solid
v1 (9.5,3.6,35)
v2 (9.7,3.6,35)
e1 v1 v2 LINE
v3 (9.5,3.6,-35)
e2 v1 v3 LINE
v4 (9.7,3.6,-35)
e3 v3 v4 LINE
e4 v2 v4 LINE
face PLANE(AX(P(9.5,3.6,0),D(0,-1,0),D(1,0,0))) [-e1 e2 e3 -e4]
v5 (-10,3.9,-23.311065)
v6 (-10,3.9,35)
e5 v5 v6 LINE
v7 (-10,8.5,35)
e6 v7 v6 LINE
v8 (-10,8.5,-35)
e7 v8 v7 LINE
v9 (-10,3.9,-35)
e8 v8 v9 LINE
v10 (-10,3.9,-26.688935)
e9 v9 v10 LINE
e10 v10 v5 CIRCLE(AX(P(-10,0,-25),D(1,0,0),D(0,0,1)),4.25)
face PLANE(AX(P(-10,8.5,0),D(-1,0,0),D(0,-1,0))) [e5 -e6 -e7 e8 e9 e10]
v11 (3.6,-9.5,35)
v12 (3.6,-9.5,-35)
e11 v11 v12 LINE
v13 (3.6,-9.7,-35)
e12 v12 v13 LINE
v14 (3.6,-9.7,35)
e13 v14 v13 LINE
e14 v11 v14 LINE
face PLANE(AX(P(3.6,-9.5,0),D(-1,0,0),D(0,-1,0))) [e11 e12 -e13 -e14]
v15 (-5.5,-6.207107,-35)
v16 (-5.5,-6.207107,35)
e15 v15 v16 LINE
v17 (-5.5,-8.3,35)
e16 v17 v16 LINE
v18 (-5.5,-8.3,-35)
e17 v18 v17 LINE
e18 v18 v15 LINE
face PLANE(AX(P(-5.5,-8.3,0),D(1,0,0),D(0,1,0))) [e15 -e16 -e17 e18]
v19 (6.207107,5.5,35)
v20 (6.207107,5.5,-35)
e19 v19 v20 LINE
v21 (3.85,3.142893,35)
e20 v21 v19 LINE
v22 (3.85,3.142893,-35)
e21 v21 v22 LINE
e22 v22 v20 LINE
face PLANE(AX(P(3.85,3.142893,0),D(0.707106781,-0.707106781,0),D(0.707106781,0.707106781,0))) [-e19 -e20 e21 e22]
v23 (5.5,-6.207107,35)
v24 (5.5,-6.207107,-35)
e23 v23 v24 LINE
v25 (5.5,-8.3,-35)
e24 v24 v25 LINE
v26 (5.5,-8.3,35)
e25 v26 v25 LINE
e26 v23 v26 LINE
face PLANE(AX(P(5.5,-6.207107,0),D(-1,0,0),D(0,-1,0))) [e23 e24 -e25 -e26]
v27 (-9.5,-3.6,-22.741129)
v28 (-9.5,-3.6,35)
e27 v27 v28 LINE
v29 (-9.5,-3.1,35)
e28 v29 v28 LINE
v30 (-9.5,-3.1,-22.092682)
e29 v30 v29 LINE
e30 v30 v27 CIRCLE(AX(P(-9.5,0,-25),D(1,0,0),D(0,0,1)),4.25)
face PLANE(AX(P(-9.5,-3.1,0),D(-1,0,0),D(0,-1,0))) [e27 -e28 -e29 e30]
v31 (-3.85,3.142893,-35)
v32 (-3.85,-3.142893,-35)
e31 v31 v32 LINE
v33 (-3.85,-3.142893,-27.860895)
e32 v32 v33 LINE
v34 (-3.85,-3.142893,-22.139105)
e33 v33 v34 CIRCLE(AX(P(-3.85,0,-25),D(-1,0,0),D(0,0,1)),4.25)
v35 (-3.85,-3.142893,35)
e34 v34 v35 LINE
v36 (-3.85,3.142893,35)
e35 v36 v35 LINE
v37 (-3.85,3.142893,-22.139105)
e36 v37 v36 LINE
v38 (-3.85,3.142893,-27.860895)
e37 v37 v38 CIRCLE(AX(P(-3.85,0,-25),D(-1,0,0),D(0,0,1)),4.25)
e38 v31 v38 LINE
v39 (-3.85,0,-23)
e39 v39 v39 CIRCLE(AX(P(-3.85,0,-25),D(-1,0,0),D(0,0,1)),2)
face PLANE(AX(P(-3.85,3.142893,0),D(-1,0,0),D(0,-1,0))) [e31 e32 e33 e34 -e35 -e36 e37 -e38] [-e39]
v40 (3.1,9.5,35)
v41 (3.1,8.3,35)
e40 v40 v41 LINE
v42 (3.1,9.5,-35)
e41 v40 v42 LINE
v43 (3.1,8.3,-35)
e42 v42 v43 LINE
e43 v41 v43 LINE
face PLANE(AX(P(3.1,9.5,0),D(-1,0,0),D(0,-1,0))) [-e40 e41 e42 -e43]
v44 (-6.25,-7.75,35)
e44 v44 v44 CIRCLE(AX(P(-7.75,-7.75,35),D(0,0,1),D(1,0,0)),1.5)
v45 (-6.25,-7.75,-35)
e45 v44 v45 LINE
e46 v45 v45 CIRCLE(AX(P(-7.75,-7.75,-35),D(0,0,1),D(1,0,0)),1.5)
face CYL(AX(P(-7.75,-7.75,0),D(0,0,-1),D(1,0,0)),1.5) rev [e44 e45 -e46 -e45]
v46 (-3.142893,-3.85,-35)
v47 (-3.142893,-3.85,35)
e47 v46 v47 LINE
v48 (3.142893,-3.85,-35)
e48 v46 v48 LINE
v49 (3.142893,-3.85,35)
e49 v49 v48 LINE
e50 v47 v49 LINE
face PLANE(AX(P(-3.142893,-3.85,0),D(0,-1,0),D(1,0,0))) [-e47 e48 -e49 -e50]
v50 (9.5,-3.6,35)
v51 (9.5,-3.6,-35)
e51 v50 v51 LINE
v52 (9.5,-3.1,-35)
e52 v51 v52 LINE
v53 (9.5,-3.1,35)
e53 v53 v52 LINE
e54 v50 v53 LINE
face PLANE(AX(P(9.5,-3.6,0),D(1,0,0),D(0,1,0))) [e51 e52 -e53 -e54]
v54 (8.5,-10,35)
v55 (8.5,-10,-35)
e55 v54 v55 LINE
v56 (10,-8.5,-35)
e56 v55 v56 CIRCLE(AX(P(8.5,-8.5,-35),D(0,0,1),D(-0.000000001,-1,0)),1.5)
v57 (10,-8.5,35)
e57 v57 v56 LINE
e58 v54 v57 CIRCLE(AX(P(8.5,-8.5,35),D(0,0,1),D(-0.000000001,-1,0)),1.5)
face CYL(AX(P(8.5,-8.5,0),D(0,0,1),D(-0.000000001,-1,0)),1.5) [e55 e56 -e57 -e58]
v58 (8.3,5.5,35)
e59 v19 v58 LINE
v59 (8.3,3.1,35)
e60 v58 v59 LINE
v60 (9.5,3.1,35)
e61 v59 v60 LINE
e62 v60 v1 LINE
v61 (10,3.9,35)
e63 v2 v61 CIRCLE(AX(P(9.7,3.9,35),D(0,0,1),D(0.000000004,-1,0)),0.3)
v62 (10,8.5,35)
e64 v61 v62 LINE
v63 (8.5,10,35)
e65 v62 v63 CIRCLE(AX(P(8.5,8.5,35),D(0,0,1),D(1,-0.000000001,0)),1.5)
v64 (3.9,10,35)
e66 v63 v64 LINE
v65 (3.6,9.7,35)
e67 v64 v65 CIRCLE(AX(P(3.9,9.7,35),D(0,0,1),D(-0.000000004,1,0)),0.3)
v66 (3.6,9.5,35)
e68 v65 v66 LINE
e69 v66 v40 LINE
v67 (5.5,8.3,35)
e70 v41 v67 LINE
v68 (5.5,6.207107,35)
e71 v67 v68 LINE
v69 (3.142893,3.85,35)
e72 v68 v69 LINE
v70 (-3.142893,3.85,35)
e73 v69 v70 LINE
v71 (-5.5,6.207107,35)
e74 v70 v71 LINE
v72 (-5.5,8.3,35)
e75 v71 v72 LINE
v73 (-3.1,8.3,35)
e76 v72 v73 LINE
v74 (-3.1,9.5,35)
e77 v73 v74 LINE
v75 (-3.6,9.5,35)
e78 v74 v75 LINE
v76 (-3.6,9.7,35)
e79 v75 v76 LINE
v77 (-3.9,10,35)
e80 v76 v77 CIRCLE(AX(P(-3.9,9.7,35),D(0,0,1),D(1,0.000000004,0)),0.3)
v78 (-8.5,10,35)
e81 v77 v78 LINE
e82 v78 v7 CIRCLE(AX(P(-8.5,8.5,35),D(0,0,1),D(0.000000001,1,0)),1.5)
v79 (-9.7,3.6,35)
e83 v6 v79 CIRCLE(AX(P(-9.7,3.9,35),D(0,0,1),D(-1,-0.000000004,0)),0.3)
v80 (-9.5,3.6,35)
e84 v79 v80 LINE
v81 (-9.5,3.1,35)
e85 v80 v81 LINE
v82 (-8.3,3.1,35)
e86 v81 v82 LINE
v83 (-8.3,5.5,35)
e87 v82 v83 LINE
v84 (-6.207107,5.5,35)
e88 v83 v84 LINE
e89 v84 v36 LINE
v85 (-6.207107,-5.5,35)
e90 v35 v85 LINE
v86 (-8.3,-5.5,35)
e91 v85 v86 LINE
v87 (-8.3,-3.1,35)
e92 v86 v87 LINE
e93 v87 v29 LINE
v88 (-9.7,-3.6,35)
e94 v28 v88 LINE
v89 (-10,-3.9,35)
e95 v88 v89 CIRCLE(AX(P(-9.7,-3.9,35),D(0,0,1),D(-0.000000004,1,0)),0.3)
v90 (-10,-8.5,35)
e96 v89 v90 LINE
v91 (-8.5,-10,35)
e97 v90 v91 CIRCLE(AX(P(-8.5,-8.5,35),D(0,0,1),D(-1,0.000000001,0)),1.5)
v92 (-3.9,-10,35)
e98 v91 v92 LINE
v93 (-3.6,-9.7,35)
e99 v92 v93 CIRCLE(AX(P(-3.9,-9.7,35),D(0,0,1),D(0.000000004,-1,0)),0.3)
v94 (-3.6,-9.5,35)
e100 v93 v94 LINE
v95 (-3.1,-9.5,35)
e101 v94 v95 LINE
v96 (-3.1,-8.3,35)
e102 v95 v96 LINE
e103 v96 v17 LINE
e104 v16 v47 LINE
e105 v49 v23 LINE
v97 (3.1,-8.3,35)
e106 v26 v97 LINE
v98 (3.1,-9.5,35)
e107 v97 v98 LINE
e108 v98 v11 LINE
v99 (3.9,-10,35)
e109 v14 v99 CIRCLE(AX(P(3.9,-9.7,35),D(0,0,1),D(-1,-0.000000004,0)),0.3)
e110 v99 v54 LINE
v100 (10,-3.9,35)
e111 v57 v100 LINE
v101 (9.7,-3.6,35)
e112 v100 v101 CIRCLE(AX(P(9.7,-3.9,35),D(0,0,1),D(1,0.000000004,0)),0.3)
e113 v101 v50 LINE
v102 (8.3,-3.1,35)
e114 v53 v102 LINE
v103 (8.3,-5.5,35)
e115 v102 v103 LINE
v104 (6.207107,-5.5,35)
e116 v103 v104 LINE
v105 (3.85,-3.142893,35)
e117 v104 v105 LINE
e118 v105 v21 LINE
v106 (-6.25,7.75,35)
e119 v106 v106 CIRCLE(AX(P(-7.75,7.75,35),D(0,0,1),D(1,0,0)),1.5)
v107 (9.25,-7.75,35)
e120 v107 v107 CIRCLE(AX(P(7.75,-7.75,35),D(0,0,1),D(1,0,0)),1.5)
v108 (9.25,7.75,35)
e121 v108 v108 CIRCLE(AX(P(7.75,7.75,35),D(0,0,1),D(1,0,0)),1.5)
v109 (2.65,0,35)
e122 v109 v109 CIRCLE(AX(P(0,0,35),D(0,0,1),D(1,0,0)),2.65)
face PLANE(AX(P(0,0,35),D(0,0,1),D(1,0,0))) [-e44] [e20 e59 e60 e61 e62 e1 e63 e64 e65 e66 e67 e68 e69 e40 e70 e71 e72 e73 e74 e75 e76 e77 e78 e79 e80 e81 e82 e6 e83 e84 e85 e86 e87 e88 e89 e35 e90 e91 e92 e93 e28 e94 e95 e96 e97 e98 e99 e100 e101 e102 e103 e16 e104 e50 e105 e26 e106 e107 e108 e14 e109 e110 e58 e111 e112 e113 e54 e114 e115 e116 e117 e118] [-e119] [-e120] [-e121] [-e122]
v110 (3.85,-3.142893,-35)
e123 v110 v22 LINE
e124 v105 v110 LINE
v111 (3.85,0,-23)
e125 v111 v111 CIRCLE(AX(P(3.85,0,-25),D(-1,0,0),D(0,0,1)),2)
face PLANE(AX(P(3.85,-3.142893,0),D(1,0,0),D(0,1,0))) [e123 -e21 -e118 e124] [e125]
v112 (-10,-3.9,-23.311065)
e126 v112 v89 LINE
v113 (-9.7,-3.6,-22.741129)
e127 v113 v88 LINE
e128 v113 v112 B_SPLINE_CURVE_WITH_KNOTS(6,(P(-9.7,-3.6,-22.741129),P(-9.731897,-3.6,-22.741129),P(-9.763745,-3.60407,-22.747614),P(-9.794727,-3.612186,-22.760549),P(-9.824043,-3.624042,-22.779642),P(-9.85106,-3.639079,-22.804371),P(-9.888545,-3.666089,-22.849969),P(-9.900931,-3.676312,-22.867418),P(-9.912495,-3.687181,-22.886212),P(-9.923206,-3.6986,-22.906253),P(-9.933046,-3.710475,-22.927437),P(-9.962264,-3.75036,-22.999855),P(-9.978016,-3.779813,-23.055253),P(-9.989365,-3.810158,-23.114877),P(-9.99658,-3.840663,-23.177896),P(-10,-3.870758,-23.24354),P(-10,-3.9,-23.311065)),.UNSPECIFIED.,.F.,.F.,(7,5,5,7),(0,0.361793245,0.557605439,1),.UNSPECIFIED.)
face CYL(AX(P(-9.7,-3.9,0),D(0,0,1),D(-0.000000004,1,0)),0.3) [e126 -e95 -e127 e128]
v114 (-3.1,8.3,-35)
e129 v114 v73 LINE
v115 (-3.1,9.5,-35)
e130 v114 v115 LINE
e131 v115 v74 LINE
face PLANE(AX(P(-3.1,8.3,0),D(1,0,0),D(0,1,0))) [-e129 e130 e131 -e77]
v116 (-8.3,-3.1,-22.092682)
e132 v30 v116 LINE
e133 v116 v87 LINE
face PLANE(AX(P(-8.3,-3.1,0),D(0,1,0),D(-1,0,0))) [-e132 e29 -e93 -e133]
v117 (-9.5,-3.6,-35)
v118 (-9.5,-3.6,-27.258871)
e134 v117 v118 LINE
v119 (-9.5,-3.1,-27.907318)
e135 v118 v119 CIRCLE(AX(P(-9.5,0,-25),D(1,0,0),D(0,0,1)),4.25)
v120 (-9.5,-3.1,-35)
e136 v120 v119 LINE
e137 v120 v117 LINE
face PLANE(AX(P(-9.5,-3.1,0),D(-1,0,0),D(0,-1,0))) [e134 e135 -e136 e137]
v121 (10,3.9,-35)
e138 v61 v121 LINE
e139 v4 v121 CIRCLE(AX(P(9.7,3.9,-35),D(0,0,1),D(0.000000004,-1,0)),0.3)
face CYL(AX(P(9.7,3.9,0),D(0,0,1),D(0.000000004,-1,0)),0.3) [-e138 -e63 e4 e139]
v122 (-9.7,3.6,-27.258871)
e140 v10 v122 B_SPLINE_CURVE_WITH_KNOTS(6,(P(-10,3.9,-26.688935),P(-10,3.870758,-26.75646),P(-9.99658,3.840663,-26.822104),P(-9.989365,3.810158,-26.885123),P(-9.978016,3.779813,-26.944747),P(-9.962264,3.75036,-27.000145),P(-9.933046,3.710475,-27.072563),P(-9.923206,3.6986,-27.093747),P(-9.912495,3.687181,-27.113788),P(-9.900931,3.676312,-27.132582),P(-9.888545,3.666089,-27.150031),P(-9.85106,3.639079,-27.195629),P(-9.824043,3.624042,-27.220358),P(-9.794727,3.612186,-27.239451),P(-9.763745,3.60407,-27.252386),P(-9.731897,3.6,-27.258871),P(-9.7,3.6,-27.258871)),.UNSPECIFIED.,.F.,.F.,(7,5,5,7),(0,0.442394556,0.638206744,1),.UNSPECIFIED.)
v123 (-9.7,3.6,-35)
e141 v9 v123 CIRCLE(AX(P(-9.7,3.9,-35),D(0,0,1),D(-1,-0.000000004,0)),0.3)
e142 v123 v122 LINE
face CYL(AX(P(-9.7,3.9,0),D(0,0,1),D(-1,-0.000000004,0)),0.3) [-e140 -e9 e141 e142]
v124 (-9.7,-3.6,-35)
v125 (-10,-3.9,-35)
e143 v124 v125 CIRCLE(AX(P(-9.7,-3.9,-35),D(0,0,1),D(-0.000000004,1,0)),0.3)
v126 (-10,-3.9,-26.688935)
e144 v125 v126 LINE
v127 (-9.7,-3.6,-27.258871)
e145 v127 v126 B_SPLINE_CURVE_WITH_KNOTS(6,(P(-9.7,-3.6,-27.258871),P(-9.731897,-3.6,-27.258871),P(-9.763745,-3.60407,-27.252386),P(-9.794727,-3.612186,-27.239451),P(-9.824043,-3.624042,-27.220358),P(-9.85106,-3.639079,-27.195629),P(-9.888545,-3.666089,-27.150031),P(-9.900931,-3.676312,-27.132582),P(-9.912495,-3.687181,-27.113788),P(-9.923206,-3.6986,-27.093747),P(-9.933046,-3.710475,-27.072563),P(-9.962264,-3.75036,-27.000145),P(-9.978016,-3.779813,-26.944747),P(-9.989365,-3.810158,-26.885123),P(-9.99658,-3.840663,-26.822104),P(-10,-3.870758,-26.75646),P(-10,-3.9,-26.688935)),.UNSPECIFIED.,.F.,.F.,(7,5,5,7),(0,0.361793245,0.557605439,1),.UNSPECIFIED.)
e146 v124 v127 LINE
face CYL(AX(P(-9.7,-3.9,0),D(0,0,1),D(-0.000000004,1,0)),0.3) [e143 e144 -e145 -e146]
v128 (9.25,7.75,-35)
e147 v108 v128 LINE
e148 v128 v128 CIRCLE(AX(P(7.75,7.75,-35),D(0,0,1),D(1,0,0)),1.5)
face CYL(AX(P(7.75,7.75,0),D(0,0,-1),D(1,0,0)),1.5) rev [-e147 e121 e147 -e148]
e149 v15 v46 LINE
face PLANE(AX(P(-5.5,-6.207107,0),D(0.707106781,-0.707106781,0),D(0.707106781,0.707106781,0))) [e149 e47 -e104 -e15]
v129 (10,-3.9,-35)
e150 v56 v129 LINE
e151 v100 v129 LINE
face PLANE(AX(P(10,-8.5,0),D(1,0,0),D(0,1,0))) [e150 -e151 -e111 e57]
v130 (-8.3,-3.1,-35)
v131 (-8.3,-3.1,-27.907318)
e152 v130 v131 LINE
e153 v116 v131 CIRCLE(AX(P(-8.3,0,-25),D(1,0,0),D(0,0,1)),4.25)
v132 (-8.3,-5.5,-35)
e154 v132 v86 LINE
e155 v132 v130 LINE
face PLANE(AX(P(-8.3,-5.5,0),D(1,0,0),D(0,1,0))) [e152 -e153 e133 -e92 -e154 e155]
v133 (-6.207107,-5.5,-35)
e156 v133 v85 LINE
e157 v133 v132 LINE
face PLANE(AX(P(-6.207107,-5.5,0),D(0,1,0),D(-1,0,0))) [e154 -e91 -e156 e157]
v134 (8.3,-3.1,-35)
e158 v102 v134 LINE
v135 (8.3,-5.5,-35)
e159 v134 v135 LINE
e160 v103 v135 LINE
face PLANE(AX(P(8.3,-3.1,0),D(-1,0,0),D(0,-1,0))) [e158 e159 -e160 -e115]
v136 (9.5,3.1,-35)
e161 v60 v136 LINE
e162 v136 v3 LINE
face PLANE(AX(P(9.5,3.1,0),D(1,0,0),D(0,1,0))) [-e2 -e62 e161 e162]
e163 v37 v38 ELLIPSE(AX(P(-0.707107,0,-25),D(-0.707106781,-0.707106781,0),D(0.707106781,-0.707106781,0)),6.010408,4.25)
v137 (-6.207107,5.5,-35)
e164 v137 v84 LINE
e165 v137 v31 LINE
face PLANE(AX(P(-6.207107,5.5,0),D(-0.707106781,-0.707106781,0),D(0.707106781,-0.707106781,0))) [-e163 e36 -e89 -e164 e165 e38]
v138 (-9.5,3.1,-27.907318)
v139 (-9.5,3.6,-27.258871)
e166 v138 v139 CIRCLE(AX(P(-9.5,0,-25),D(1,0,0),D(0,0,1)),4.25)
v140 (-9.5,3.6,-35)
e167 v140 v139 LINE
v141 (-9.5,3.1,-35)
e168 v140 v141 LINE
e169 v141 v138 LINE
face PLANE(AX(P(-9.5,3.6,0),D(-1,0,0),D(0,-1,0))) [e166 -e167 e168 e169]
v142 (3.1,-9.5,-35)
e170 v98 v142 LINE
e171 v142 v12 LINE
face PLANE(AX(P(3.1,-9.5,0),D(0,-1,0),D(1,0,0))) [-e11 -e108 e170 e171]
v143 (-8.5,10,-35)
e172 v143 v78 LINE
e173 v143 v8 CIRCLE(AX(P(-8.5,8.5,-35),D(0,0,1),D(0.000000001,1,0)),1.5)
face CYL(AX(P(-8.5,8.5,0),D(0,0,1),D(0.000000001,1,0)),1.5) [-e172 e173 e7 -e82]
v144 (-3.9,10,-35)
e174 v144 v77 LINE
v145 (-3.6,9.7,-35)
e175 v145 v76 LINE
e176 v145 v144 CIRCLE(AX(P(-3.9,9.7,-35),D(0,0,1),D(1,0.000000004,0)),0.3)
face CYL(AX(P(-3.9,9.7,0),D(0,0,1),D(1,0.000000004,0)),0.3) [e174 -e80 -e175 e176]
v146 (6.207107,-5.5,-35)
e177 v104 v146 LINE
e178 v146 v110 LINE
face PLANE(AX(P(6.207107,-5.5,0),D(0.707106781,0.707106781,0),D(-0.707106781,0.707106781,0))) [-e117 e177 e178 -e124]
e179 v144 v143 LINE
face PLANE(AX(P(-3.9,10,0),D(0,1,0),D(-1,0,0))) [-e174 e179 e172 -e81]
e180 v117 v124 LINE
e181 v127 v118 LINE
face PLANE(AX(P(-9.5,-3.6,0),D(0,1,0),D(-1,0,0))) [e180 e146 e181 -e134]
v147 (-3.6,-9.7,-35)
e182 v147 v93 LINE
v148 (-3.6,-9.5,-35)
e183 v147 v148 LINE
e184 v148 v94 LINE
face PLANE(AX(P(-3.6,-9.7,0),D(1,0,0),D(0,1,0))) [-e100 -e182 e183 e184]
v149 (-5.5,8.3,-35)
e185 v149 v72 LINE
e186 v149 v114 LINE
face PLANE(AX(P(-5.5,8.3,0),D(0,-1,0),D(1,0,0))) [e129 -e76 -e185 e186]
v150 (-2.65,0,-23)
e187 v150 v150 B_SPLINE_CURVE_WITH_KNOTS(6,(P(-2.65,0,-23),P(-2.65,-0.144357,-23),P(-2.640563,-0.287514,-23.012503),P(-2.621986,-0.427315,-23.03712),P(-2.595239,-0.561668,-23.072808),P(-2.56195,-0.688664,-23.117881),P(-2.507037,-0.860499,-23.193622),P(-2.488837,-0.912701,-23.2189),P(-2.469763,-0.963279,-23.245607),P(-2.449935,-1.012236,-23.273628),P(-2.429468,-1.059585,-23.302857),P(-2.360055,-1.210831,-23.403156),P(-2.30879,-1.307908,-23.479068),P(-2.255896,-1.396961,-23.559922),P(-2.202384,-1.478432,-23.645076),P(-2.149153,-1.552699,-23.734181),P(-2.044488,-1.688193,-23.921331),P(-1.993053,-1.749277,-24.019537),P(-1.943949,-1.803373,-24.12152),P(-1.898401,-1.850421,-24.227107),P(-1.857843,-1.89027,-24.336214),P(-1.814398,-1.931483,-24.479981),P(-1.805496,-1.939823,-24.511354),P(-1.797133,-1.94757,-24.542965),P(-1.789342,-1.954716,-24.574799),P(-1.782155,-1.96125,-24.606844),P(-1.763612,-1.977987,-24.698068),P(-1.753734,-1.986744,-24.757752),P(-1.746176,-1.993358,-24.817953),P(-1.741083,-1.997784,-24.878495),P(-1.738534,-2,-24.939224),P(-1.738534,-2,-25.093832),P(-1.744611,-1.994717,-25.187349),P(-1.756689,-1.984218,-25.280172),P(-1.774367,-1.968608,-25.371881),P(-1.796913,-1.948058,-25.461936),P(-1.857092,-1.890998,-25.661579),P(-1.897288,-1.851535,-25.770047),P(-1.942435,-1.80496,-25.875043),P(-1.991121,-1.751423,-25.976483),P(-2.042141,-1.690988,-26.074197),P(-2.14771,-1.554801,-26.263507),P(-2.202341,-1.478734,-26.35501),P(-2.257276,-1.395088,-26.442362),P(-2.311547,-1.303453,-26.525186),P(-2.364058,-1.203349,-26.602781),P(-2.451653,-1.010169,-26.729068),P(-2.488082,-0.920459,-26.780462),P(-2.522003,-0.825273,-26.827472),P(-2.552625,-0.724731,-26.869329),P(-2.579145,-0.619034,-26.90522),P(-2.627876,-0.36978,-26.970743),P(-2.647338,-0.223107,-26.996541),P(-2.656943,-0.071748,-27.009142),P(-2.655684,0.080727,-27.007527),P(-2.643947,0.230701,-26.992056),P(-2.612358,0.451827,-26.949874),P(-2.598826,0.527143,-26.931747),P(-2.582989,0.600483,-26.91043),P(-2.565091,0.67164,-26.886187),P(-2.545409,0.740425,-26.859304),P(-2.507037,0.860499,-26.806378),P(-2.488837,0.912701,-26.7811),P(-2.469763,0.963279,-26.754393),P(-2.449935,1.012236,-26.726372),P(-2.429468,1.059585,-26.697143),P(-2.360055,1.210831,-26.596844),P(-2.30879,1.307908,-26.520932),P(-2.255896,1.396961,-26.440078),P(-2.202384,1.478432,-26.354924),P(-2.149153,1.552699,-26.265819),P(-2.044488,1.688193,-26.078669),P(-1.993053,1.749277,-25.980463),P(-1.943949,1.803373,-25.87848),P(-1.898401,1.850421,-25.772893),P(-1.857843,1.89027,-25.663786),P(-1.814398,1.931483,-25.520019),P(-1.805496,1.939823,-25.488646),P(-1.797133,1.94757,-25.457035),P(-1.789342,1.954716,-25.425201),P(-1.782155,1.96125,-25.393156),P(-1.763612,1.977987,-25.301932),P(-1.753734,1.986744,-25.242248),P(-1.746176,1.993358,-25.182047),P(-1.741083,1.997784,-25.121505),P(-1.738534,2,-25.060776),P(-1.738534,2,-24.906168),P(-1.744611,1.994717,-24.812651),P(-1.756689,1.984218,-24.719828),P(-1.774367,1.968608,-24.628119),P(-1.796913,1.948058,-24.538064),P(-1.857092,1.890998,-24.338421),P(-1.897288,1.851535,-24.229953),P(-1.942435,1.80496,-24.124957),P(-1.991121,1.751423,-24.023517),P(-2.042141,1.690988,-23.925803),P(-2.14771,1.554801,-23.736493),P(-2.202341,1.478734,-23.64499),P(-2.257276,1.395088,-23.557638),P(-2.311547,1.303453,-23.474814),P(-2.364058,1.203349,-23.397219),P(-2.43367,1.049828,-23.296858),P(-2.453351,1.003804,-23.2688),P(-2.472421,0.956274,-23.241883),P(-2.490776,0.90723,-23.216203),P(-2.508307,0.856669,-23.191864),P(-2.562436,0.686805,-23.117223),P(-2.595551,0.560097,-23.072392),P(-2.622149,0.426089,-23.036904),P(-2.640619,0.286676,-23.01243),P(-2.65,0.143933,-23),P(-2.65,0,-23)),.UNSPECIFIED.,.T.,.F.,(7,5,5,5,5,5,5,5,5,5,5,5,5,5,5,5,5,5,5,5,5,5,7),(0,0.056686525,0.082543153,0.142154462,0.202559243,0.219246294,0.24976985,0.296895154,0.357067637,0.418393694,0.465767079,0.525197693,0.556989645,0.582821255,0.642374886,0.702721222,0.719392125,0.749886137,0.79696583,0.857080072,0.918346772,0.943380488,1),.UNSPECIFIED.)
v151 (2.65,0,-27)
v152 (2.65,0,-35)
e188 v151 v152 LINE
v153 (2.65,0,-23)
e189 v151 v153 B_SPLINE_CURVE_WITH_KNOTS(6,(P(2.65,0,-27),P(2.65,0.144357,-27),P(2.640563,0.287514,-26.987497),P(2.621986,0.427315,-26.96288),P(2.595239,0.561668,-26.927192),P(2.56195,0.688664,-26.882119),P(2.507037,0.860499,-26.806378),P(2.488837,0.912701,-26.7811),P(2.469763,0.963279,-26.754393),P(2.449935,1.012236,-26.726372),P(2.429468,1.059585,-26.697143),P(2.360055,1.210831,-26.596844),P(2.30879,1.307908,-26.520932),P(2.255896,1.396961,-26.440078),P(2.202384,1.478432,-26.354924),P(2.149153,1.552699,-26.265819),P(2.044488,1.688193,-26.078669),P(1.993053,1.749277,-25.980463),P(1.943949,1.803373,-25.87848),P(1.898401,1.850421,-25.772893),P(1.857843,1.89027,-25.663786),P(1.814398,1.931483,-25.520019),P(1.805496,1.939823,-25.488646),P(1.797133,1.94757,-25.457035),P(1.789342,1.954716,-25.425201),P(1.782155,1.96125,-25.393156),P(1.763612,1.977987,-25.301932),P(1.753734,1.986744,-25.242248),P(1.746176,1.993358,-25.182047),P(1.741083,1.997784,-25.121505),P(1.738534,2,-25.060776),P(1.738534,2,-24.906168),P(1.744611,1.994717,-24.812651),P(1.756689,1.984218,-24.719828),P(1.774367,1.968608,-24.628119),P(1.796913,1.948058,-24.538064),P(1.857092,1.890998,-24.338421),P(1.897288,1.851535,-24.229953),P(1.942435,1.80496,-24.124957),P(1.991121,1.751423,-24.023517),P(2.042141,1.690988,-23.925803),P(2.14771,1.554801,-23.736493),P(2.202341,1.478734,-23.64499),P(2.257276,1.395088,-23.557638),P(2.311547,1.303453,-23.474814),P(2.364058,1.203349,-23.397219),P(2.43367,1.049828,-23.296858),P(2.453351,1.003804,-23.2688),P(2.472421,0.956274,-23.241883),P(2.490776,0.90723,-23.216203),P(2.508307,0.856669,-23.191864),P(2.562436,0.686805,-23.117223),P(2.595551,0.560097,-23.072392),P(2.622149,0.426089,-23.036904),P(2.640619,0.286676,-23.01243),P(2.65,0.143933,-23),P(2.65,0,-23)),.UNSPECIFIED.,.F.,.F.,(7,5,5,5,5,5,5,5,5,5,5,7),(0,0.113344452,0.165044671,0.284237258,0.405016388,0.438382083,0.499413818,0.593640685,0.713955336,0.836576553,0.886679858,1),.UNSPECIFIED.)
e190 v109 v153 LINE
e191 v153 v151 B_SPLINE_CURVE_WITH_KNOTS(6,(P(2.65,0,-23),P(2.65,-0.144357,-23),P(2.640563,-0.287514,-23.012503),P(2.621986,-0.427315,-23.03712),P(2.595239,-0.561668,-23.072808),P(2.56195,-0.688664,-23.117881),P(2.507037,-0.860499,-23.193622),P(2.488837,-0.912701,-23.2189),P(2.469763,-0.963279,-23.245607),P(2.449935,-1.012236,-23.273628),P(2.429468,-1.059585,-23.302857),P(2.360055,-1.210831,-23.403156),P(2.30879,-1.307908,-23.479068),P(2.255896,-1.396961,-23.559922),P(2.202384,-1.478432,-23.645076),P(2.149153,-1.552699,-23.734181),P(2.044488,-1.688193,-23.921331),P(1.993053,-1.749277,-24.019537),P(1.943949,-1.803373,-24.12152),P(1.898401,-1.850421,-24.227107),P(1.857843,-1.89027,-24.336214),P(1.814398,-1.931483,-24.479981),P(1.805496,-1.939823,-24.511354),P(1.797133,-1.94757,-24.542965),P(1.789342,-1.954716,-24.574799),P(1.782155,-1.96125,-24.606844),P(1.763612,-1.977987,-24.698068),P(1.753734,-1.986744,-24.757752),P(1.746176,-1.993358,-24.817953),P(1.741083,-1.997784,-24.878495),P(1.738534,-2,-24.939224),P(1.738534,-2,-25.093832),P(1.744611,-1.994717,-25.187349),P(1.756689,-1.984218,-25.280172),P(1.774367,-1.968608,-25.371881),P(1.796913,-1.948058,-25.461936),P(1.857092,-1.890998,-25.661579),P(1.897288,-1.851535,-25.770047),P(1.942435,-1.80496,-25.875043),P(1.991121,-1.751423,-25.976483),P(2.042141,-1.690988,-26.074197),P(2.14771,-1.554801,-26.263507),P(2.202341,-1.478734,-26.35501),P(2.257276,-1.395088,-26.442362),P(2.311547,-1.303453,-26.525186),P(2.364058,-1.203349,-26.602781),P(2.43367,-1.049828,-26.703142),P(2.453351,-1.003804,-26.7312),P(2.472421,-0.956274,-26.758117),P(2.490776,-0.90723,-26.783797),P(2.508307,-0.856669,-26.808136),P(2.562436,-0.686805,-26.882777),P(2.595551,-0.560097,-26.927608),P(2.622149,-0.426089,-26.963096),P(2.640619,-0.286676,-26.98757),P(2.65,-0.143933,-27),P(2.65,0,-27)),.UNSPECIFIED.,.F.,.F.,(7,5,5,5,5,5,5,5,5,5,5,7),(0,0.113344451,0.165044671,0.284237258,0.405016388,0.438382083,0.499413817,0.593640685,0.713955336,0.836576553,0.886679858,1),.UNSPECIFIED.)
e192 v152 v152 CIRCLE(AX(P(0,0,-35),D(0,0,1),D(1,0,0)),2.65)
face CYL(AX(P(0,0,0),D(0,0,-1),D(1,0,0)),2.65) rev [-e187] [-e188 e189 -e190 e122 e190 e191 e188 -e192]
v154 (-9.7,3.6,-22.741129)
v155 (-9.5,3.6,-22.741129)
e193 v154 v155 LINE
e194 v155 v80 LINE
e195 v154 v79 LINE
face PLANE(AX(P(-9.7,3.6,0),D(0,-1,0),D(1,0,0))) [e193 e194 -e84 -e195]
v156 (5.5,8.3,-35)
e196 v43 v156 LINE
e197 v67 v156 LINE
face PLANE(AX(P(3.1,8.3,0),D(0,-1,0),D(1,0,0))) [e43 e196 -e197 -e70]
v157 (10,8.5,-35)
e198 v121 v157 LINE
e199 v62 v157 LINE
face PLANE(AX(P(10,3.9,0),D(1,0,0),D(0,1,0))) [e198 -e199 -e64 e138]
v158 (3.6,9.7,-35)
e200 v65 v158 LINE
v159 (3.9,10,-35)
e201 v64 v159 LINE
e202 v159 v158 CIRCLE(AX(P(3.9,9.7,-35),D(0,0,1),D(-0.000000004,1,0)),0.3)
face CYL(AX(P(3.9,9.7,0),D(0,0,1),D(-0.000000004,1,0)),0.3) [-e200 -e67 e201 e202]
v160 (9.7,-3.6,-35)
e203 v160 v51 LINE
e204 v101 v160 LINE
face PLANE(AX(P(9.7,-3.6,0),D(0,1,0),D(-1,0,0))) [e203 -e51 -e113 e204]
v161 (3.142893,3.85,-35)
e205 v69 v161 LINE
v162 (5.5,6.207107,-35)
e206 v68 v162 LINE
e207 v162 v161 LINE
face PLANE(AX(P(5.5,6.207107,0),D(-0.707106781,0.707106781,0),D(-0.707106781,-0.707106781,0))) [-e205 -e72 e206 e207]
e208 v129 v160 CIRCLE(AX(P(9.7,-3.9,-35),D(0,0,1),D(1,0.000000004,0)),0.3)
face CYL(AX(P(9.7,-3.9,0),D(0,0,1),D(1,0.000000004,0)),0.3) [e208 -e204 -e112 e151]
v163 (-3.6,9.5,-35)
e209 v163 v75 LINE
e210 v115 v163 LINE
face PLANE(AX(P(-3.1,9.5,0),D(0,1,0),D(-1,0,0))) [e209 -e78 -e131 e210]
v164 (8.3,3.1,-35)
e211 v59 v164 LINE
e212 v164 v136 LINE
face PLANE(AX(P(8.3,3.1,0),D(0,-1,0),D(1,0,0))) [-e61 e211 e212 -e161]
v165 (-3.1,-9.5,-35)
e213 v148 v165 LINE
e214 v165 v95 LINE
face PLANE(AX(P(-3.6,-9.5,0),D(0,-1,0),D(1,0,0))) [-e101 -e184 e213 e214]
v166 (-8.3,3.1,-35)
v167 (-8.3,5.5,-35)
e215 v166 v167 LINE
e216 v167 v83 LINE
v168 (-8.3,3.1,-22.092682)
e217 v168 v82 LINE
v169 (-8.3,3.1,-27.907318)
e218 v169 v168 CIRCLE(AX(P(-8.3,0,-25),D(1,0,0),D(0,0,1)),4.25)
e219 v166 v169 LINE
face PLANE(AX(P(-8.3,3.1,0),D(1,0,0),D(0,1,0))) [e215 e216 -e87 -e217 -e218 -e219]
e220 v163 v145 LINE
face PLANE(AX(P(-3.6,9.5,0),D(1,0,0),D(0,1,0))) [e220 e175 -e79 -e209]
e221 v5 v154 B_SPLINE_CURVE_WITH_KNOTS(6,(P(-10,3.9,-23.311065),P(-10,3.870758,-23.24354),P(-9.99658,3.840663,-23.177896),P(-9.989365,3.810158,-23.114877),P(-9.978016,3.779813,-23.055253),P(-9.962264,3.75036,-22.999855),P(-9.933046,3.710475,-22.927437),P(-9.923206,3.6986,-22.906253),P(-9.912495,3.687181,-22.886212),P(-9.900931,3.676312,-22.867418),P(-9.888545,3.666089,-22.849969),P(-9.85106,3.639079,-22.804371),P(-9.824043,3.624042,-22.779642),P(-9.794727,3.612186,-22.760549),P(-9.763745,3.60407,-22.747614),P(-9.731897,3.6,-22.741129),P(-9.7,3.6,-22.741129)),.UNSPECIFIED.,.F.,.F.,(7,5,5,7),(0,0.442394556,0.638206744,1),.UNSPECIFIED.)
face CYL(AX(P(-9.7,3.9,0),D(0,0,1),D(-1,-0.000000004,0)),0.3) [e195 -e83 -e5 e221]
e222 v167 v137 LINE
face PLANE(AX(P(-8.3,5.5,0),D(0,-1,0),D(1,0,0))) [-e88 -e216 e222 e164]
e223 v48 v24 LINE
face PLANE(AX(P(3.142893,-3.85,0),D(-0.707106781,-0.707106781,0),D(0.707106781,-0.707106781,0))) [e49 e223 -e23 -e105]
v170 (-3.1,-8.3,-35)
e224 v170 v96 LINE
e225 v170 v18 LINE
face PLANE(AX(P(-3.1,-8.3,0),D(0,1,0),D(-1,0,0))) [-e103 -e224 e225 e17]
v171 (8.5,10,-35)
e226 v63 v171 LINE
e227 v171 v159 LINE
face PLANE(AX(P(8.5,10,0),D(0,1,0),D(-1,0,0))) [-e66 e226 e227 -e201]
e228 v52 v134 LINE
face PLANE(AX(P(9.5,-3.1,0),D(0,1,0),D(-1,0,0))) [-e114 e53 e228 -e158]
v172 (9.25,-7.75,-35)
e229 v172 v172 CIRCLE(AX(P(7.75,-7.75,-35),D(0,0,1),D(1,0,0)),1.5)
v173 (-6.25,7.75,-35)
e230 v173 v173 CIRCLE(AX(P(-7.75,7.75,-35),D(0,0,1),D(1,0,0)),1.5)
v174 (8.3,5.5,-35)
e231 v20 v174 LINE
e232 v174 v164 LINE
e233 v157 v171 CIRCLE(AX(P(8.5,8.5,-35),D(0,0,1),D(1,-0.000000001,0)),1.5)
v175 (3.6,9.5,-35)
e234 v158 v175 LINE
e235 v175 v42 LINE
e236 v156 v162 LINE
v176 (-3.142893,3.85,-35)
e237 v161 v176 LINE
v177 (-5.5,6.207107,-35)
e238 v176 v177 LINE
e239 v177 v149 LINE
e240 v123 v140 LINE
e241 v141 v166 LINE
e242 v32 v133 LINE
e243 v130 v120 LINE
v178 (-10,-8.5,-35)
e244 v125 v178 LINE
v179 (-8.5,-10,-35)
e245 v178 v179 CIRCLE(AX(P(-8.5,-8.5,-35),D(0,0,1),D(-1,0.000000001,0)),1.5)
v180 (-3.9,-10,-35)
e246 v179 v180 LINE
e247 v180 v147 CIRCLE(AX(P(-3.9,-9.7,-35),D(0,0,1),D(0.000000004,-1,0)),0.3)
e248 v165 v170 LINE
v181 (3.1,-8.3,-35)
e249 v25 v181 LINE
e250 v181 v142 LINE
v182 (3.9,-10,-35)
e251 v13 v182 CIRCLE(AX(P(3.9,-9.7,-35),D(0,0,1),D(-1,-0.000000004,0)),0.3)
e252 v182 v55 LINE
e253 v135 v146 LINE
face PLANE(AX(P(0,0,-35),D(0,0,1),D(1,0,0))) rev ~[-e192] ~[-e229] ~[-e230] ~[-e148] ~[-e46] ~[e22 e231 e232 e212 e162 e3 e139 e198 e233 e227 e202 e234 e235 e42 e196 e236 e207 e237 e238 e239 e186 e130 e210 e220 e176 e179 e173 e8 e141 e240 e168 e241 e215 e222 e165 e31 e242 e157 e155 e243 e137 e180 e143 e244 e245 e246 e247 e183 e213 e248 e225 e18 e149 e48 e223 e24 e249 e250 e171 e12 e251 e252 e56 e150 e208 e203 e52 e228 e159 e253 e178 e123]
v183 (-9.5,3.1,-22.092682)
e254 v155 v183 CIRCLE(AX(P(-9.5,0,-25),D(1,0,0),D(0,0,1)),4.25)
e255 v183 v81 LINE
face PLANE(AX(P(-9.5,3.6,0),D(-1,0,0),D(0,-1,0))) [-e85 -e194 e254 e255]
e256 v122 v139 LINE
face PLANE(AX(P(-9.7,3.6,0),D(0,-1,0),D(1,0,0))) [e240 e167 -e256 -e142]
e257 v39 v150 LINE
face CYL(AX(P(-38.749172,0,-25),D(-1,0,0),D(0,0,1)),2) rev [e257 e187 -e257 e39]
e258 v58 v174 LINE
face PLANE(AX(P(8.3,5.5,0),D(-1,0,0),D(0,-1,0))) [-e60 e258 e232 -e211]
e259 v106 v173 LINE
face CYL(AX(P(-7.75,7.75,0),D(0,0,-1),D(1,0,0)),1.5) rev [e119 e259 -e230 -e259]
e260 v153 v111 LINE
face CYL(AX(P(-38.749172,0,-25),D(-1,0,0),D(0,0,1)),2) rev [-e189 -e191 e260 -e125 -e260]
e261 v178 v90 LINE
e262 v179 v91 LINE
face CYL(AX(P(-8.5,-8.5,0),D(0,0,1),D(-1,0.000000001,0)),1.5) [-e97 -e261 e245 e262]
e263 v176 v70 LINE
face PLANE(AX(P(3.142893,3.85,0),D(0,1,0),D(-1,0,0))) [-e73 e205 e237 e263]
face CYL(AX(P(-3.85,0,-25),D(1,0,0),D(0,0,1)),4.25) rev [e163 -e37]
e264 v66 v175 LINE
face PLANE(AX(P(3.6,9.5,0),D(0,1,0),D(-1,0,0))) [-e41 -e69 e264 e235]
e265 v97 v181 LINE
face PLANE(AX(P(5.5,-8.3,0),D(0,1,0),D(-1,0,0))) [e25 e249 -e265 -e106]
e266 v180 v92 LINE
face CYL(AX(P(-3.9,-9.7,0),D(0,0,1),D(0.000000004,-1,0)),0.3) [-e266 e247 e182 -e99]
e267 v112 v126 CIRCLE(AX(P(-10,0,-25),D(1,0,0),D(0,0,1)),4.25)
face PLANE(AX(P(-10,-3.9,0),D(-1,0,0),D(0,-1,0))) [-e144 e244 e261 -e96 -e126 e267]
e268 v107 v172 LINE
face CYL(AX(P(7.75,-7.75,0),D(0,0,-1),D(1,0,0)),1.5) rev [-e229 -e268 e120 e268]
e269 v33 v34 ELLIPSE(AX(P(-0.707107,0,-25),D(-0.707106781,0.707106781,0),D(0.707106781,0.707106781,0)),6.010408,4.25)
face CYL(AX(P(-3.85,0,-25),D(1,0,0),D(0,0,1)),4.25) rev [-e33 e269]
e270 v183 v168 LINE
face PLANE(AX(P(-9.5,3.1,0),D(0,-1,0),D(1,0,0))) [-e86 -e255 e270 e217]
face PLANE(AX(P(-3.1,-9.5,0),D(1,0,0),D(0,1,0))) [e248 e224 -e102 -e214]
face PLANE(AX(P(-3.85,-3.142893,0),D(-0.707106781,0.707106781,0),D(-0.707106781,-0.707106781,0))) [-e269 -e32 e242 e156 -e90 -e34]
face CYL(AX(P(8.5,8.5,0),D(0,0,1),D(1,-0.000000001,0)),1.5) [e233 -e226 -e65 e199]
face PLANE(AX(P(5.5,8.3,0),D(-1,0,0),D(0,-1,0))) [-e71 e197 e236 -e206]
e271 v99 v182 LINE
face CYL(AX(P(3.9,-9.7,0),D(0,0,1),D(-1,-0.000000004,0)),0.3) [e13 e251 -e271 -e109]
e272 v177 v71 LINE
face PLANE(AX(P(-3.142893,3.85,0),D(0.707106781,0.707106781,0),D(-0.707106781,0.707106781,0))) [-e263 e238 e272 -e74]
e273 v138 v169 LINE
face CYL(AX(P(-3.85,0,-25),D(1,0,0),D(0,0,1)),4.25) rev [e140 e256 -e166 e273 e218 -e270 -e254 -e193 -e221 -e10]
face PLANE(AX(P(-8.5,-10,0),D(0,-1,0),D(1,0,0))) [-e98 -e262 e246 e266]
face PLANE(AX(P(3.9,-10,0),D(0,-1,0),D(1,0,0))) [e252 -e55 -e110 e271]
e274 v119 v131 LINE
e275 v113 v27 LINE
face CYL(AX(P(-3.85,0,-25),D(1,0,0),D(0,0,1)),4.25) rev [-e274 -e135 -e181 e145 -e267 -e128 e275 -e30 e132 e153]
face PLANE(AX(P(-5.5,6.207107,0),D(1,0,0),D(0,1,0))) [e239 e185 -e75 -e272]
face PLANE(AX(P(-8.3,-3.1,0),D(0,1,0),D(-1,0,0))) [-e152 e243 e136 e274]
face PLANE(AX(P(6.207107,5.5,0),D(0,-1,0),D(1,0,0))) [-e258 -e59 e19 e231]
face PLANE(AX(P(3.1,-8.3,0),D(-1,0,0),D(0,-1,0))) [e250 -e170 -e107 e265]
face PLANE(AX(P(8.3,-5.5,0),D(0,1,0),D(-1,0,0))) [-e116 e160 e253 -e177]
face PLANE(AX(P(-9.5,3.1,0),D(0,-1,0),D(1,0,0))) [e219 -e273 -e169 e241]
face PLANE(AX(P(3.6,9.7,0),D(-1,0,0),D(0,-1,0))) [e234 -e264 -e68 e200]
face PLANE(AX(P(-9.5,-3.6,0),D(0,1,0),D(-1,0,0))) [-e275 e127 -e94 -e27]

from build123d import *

# Parameters (mm, degrees)
SKETCH_1_R               = 2.65
SKETCH_1_R_2             = 1.5
EXTRUDE_1_DEPTH          = 35
CUT_EXTRUDE_3_DEPTH      = 38.749172176
CUT_EXTRUDE_3_DEPTH_BACK = 38.749172176
SKETCH_5_R               = 2
SKETCH_6_R               = 4.25
CUT_EXTRUDE_4_DEPTH      = 39.946405572


with BuildPart() as part:
    # 草图1 → 凸台-拉伸1 (new, symmetric)
    with BuildSketch(Plane.XY):
        with BuildLine():
            Line((3.142893219, 3.85), (-3.142893219, 3.85))
            Line((-3.142893219, 3.85), (-5.5, 6.207106781))
            Line((-5.5, 6.207106781), (-5.5, 8.3))
            Line((-5.5, 8.3), (-3.1, 8.3))
            Line((-3.1, 8.3), (-3.1, 9.5))
            Line((-3.1, 9.5), (-3.6, 9.5))
            Line((-3.6, 9.5), (-3.6, 9.7))
            ThreePointArc((-3.6, 9.7), (-3.687867966, 9.912132034), (-3.9, 10))
            Line((-3.9, 10), (-8.5, 10))
            ThreePointArc((-8.5, 10), (-9.560660172, 9.560660172), (-10, 8.5))
            Line((-10, 8.5), (-10, 3.9))
            ThreePointArc((-10, 3.9), (-9.912132034, 3.687867966), (-9.7, 3.6))
            Line((-9.7, 3.6), (-9.5, 3.6))
            Line((-9.5, 3.6), (-9.5, 3.1))
            Line((-9.5, 3.1), (-8.3, 3.1))
            Line((-8.3, 3.1), (-8.3, 5.5))
            Line((-8.3, 5.5), (-6.207106781, 5.5))
            Line((-6.207106781, 5.5), (-3.85, 3.142893219))
            Line((-3.85, 3.142893219), (-3.85, -3.142893219))
            Line((-3.85, -3.142893219), (-6.207106781, -5.5))
            Line((-6.207106781, -5.5), (-8.3, -5.5))
            Line((-8.3, -5.5), (-8.3, -3.1))
            Line((-8.3, -3.1), (-9.5, -3.1))
            Line((-9.5, -3.1), (-9.5, -3.6))
            Line((-9.5, -3.6), (-9.7, -3.6))
            ThreePointArc((-9.7, -3.6), (-9.912132034, -3.687867966), (-10, -3.9))
            Line((-10, -3.9), (-10, -8.5))
            ThreePointArc((-10, -8.5), (-9.560660172, -9.560660172), (-8.5, -10))
            Line((-8.5, -10), (-3.9, -10))
            ThreePointArc((-3.9, -10), (-3.687867966, -9.912132034), (-3.6, -9.7))
            Line((-3.6, -9.7), (-3.6, -9.5))
            Line((-3.6, -9.5), (-3.1, -9.5))
            Line((-3.1, -9.5), (-3.1, -8.3))
            Line((-3.1, -8.3), (-5.5, -8.3))
            Line((-5.5, -8.3), (-5.5, -6.207106781))
            Line((-5.5, -6.207106781), (-3.142893219, -3.85))
            Line((-3.142893219, -3.85), (3.142893219, -3.85))
            Line((3.142893219, -3.85), (5.5, -6.207106781))
            Line((5.5, -6.207106781), (5.5, -8.3))
            Line((5.5, -8.3), (3.1, -8.3))
            Line((3.1, -8.3), (3.1, -9.5))
            Line((3.1, -9.5), (3.6, -9.5))
            Line((3.6, -9.5), (3.6, -9.7))
            ThreePointArc((3.6, -9.7), (3.687867966, -9.912132034), (3.9, -10))
            Line((3.9, -10), (8.5, -10))
            ThreePointArc((8.5, -10), (9.560660172, -9.560660172), (10, -8.5))
            Line((10, -8.5), (10, -3.9))
            ThreePointArc((10, -3.9), (9.912132034, -3.687867966), (9.7, -3.6))
            Line((9.7, -3.6), (9.5, -3.6))
            Line((9.5, -3.6), (9.5, -3.1))
            Line((9.5, -3.1), (8.3, -3.1))
            Line((8.3, -3.1), (8.3, -5.5))
            Line((8.3, -5.5), (6.207106781, -5.5))
            Line((6.207106781, -5.5), (3.85, -3.142893219))
            Line((3.85, -3.142893219), (3.85, 3.142893219))
            Line((3.85, 3.142893219), (6.207106781, 5.5))
            Line((6.207106781, 5.5), (8.3, 5.5))
            Line((8.3, 5.5), (8.3, 3.1))
            Line((8.3, 3.1), (9.5, 3.1))
            Line((9.5, 3.1), (9.5, 3.6))
            Line((9.5, 3.6), (9.7, 3.6))
            ThreePointArc((9.7, 3.6), (9.912132034, 3.687867966), (10, 3.9))
            Line((10, 3.9), (10, 8.5))
            ThreePointArc((10, 8.5), (9.560660172, 9.560660172), (8.5, 10))
            Line((8.5, 10), (3.9, 10))
            ThreePointArc((3.9, 10), (3.687867966, 9.912132034), (3.6, 9.7))
            Line((3.6, 9.7), (3.6, 9.5))
            Line((3.6, 9.5), (3.1, 9.5))
            Line((3.1, 9.5), (3.1, 8.3))
            Line((3.1, 8.3), (5.5, 8.3))
            Line((5.5, 8.3), (5.5, 6.207106781))
            Line((5.5, 6.207106781), (3.142893219, 3.85))
        make_face()
        Circle(SKETCH_1_R, mode=Mode.SUBTRACT)
        with Locations((-7.75, 7.75)):
            Circle(SKETCH_1_R_2, mode=Mode.SUBTRACT)
        with Locations((7.75, 7.75)):
            Circle(SKETCH_1_R_2, mode=Mode.SUBTRACT)
        with Locations((7.75, -7.75)):
            Circle(SKETCH_1_R_2, mode=Mode.SUBTRACT)
        with Locations((-7.75, -7.75)):
            Circle(SKETCH_1_R_2, mode=Mode.SUBTRACT)
    extrude(amount=EXTRUDE_1_DEPTH, both=True)

    # 草图5 → 切除-拉伸3 (cut, two sides: drawn at the far end of the back side and taken through both)
    with BuildSketch(Plane(origin=(0, 0, 0), x_dir=(0, 0, -1), z_dir=(1, 0, 0)).offset(-CUT_EXTRUDE_3_DEPTH_BACK)):
        with Locations(Location((25, 0, 0), (0, 0, 180))):
            Circle(SKETCH_5_R)
    extrude(amount=CUT_EXTRUDE_3_DEPTH + CUT_EXTRUDE_3_DEPTH_BACK, mode=Mode.SUBTRACT)

    # 草图6 → 切除-拉伸4 (cut, through all)
    with BuildSketch(Plane.ZY.offset(3.85)):
        with Locations((-25, 0)):
            Circle(SKETCH_6_R)
    extrude(amount=CUT_EXTRUDE_4_DEPTH, mode=Mode.SUBTRACT)


solid = part.part
